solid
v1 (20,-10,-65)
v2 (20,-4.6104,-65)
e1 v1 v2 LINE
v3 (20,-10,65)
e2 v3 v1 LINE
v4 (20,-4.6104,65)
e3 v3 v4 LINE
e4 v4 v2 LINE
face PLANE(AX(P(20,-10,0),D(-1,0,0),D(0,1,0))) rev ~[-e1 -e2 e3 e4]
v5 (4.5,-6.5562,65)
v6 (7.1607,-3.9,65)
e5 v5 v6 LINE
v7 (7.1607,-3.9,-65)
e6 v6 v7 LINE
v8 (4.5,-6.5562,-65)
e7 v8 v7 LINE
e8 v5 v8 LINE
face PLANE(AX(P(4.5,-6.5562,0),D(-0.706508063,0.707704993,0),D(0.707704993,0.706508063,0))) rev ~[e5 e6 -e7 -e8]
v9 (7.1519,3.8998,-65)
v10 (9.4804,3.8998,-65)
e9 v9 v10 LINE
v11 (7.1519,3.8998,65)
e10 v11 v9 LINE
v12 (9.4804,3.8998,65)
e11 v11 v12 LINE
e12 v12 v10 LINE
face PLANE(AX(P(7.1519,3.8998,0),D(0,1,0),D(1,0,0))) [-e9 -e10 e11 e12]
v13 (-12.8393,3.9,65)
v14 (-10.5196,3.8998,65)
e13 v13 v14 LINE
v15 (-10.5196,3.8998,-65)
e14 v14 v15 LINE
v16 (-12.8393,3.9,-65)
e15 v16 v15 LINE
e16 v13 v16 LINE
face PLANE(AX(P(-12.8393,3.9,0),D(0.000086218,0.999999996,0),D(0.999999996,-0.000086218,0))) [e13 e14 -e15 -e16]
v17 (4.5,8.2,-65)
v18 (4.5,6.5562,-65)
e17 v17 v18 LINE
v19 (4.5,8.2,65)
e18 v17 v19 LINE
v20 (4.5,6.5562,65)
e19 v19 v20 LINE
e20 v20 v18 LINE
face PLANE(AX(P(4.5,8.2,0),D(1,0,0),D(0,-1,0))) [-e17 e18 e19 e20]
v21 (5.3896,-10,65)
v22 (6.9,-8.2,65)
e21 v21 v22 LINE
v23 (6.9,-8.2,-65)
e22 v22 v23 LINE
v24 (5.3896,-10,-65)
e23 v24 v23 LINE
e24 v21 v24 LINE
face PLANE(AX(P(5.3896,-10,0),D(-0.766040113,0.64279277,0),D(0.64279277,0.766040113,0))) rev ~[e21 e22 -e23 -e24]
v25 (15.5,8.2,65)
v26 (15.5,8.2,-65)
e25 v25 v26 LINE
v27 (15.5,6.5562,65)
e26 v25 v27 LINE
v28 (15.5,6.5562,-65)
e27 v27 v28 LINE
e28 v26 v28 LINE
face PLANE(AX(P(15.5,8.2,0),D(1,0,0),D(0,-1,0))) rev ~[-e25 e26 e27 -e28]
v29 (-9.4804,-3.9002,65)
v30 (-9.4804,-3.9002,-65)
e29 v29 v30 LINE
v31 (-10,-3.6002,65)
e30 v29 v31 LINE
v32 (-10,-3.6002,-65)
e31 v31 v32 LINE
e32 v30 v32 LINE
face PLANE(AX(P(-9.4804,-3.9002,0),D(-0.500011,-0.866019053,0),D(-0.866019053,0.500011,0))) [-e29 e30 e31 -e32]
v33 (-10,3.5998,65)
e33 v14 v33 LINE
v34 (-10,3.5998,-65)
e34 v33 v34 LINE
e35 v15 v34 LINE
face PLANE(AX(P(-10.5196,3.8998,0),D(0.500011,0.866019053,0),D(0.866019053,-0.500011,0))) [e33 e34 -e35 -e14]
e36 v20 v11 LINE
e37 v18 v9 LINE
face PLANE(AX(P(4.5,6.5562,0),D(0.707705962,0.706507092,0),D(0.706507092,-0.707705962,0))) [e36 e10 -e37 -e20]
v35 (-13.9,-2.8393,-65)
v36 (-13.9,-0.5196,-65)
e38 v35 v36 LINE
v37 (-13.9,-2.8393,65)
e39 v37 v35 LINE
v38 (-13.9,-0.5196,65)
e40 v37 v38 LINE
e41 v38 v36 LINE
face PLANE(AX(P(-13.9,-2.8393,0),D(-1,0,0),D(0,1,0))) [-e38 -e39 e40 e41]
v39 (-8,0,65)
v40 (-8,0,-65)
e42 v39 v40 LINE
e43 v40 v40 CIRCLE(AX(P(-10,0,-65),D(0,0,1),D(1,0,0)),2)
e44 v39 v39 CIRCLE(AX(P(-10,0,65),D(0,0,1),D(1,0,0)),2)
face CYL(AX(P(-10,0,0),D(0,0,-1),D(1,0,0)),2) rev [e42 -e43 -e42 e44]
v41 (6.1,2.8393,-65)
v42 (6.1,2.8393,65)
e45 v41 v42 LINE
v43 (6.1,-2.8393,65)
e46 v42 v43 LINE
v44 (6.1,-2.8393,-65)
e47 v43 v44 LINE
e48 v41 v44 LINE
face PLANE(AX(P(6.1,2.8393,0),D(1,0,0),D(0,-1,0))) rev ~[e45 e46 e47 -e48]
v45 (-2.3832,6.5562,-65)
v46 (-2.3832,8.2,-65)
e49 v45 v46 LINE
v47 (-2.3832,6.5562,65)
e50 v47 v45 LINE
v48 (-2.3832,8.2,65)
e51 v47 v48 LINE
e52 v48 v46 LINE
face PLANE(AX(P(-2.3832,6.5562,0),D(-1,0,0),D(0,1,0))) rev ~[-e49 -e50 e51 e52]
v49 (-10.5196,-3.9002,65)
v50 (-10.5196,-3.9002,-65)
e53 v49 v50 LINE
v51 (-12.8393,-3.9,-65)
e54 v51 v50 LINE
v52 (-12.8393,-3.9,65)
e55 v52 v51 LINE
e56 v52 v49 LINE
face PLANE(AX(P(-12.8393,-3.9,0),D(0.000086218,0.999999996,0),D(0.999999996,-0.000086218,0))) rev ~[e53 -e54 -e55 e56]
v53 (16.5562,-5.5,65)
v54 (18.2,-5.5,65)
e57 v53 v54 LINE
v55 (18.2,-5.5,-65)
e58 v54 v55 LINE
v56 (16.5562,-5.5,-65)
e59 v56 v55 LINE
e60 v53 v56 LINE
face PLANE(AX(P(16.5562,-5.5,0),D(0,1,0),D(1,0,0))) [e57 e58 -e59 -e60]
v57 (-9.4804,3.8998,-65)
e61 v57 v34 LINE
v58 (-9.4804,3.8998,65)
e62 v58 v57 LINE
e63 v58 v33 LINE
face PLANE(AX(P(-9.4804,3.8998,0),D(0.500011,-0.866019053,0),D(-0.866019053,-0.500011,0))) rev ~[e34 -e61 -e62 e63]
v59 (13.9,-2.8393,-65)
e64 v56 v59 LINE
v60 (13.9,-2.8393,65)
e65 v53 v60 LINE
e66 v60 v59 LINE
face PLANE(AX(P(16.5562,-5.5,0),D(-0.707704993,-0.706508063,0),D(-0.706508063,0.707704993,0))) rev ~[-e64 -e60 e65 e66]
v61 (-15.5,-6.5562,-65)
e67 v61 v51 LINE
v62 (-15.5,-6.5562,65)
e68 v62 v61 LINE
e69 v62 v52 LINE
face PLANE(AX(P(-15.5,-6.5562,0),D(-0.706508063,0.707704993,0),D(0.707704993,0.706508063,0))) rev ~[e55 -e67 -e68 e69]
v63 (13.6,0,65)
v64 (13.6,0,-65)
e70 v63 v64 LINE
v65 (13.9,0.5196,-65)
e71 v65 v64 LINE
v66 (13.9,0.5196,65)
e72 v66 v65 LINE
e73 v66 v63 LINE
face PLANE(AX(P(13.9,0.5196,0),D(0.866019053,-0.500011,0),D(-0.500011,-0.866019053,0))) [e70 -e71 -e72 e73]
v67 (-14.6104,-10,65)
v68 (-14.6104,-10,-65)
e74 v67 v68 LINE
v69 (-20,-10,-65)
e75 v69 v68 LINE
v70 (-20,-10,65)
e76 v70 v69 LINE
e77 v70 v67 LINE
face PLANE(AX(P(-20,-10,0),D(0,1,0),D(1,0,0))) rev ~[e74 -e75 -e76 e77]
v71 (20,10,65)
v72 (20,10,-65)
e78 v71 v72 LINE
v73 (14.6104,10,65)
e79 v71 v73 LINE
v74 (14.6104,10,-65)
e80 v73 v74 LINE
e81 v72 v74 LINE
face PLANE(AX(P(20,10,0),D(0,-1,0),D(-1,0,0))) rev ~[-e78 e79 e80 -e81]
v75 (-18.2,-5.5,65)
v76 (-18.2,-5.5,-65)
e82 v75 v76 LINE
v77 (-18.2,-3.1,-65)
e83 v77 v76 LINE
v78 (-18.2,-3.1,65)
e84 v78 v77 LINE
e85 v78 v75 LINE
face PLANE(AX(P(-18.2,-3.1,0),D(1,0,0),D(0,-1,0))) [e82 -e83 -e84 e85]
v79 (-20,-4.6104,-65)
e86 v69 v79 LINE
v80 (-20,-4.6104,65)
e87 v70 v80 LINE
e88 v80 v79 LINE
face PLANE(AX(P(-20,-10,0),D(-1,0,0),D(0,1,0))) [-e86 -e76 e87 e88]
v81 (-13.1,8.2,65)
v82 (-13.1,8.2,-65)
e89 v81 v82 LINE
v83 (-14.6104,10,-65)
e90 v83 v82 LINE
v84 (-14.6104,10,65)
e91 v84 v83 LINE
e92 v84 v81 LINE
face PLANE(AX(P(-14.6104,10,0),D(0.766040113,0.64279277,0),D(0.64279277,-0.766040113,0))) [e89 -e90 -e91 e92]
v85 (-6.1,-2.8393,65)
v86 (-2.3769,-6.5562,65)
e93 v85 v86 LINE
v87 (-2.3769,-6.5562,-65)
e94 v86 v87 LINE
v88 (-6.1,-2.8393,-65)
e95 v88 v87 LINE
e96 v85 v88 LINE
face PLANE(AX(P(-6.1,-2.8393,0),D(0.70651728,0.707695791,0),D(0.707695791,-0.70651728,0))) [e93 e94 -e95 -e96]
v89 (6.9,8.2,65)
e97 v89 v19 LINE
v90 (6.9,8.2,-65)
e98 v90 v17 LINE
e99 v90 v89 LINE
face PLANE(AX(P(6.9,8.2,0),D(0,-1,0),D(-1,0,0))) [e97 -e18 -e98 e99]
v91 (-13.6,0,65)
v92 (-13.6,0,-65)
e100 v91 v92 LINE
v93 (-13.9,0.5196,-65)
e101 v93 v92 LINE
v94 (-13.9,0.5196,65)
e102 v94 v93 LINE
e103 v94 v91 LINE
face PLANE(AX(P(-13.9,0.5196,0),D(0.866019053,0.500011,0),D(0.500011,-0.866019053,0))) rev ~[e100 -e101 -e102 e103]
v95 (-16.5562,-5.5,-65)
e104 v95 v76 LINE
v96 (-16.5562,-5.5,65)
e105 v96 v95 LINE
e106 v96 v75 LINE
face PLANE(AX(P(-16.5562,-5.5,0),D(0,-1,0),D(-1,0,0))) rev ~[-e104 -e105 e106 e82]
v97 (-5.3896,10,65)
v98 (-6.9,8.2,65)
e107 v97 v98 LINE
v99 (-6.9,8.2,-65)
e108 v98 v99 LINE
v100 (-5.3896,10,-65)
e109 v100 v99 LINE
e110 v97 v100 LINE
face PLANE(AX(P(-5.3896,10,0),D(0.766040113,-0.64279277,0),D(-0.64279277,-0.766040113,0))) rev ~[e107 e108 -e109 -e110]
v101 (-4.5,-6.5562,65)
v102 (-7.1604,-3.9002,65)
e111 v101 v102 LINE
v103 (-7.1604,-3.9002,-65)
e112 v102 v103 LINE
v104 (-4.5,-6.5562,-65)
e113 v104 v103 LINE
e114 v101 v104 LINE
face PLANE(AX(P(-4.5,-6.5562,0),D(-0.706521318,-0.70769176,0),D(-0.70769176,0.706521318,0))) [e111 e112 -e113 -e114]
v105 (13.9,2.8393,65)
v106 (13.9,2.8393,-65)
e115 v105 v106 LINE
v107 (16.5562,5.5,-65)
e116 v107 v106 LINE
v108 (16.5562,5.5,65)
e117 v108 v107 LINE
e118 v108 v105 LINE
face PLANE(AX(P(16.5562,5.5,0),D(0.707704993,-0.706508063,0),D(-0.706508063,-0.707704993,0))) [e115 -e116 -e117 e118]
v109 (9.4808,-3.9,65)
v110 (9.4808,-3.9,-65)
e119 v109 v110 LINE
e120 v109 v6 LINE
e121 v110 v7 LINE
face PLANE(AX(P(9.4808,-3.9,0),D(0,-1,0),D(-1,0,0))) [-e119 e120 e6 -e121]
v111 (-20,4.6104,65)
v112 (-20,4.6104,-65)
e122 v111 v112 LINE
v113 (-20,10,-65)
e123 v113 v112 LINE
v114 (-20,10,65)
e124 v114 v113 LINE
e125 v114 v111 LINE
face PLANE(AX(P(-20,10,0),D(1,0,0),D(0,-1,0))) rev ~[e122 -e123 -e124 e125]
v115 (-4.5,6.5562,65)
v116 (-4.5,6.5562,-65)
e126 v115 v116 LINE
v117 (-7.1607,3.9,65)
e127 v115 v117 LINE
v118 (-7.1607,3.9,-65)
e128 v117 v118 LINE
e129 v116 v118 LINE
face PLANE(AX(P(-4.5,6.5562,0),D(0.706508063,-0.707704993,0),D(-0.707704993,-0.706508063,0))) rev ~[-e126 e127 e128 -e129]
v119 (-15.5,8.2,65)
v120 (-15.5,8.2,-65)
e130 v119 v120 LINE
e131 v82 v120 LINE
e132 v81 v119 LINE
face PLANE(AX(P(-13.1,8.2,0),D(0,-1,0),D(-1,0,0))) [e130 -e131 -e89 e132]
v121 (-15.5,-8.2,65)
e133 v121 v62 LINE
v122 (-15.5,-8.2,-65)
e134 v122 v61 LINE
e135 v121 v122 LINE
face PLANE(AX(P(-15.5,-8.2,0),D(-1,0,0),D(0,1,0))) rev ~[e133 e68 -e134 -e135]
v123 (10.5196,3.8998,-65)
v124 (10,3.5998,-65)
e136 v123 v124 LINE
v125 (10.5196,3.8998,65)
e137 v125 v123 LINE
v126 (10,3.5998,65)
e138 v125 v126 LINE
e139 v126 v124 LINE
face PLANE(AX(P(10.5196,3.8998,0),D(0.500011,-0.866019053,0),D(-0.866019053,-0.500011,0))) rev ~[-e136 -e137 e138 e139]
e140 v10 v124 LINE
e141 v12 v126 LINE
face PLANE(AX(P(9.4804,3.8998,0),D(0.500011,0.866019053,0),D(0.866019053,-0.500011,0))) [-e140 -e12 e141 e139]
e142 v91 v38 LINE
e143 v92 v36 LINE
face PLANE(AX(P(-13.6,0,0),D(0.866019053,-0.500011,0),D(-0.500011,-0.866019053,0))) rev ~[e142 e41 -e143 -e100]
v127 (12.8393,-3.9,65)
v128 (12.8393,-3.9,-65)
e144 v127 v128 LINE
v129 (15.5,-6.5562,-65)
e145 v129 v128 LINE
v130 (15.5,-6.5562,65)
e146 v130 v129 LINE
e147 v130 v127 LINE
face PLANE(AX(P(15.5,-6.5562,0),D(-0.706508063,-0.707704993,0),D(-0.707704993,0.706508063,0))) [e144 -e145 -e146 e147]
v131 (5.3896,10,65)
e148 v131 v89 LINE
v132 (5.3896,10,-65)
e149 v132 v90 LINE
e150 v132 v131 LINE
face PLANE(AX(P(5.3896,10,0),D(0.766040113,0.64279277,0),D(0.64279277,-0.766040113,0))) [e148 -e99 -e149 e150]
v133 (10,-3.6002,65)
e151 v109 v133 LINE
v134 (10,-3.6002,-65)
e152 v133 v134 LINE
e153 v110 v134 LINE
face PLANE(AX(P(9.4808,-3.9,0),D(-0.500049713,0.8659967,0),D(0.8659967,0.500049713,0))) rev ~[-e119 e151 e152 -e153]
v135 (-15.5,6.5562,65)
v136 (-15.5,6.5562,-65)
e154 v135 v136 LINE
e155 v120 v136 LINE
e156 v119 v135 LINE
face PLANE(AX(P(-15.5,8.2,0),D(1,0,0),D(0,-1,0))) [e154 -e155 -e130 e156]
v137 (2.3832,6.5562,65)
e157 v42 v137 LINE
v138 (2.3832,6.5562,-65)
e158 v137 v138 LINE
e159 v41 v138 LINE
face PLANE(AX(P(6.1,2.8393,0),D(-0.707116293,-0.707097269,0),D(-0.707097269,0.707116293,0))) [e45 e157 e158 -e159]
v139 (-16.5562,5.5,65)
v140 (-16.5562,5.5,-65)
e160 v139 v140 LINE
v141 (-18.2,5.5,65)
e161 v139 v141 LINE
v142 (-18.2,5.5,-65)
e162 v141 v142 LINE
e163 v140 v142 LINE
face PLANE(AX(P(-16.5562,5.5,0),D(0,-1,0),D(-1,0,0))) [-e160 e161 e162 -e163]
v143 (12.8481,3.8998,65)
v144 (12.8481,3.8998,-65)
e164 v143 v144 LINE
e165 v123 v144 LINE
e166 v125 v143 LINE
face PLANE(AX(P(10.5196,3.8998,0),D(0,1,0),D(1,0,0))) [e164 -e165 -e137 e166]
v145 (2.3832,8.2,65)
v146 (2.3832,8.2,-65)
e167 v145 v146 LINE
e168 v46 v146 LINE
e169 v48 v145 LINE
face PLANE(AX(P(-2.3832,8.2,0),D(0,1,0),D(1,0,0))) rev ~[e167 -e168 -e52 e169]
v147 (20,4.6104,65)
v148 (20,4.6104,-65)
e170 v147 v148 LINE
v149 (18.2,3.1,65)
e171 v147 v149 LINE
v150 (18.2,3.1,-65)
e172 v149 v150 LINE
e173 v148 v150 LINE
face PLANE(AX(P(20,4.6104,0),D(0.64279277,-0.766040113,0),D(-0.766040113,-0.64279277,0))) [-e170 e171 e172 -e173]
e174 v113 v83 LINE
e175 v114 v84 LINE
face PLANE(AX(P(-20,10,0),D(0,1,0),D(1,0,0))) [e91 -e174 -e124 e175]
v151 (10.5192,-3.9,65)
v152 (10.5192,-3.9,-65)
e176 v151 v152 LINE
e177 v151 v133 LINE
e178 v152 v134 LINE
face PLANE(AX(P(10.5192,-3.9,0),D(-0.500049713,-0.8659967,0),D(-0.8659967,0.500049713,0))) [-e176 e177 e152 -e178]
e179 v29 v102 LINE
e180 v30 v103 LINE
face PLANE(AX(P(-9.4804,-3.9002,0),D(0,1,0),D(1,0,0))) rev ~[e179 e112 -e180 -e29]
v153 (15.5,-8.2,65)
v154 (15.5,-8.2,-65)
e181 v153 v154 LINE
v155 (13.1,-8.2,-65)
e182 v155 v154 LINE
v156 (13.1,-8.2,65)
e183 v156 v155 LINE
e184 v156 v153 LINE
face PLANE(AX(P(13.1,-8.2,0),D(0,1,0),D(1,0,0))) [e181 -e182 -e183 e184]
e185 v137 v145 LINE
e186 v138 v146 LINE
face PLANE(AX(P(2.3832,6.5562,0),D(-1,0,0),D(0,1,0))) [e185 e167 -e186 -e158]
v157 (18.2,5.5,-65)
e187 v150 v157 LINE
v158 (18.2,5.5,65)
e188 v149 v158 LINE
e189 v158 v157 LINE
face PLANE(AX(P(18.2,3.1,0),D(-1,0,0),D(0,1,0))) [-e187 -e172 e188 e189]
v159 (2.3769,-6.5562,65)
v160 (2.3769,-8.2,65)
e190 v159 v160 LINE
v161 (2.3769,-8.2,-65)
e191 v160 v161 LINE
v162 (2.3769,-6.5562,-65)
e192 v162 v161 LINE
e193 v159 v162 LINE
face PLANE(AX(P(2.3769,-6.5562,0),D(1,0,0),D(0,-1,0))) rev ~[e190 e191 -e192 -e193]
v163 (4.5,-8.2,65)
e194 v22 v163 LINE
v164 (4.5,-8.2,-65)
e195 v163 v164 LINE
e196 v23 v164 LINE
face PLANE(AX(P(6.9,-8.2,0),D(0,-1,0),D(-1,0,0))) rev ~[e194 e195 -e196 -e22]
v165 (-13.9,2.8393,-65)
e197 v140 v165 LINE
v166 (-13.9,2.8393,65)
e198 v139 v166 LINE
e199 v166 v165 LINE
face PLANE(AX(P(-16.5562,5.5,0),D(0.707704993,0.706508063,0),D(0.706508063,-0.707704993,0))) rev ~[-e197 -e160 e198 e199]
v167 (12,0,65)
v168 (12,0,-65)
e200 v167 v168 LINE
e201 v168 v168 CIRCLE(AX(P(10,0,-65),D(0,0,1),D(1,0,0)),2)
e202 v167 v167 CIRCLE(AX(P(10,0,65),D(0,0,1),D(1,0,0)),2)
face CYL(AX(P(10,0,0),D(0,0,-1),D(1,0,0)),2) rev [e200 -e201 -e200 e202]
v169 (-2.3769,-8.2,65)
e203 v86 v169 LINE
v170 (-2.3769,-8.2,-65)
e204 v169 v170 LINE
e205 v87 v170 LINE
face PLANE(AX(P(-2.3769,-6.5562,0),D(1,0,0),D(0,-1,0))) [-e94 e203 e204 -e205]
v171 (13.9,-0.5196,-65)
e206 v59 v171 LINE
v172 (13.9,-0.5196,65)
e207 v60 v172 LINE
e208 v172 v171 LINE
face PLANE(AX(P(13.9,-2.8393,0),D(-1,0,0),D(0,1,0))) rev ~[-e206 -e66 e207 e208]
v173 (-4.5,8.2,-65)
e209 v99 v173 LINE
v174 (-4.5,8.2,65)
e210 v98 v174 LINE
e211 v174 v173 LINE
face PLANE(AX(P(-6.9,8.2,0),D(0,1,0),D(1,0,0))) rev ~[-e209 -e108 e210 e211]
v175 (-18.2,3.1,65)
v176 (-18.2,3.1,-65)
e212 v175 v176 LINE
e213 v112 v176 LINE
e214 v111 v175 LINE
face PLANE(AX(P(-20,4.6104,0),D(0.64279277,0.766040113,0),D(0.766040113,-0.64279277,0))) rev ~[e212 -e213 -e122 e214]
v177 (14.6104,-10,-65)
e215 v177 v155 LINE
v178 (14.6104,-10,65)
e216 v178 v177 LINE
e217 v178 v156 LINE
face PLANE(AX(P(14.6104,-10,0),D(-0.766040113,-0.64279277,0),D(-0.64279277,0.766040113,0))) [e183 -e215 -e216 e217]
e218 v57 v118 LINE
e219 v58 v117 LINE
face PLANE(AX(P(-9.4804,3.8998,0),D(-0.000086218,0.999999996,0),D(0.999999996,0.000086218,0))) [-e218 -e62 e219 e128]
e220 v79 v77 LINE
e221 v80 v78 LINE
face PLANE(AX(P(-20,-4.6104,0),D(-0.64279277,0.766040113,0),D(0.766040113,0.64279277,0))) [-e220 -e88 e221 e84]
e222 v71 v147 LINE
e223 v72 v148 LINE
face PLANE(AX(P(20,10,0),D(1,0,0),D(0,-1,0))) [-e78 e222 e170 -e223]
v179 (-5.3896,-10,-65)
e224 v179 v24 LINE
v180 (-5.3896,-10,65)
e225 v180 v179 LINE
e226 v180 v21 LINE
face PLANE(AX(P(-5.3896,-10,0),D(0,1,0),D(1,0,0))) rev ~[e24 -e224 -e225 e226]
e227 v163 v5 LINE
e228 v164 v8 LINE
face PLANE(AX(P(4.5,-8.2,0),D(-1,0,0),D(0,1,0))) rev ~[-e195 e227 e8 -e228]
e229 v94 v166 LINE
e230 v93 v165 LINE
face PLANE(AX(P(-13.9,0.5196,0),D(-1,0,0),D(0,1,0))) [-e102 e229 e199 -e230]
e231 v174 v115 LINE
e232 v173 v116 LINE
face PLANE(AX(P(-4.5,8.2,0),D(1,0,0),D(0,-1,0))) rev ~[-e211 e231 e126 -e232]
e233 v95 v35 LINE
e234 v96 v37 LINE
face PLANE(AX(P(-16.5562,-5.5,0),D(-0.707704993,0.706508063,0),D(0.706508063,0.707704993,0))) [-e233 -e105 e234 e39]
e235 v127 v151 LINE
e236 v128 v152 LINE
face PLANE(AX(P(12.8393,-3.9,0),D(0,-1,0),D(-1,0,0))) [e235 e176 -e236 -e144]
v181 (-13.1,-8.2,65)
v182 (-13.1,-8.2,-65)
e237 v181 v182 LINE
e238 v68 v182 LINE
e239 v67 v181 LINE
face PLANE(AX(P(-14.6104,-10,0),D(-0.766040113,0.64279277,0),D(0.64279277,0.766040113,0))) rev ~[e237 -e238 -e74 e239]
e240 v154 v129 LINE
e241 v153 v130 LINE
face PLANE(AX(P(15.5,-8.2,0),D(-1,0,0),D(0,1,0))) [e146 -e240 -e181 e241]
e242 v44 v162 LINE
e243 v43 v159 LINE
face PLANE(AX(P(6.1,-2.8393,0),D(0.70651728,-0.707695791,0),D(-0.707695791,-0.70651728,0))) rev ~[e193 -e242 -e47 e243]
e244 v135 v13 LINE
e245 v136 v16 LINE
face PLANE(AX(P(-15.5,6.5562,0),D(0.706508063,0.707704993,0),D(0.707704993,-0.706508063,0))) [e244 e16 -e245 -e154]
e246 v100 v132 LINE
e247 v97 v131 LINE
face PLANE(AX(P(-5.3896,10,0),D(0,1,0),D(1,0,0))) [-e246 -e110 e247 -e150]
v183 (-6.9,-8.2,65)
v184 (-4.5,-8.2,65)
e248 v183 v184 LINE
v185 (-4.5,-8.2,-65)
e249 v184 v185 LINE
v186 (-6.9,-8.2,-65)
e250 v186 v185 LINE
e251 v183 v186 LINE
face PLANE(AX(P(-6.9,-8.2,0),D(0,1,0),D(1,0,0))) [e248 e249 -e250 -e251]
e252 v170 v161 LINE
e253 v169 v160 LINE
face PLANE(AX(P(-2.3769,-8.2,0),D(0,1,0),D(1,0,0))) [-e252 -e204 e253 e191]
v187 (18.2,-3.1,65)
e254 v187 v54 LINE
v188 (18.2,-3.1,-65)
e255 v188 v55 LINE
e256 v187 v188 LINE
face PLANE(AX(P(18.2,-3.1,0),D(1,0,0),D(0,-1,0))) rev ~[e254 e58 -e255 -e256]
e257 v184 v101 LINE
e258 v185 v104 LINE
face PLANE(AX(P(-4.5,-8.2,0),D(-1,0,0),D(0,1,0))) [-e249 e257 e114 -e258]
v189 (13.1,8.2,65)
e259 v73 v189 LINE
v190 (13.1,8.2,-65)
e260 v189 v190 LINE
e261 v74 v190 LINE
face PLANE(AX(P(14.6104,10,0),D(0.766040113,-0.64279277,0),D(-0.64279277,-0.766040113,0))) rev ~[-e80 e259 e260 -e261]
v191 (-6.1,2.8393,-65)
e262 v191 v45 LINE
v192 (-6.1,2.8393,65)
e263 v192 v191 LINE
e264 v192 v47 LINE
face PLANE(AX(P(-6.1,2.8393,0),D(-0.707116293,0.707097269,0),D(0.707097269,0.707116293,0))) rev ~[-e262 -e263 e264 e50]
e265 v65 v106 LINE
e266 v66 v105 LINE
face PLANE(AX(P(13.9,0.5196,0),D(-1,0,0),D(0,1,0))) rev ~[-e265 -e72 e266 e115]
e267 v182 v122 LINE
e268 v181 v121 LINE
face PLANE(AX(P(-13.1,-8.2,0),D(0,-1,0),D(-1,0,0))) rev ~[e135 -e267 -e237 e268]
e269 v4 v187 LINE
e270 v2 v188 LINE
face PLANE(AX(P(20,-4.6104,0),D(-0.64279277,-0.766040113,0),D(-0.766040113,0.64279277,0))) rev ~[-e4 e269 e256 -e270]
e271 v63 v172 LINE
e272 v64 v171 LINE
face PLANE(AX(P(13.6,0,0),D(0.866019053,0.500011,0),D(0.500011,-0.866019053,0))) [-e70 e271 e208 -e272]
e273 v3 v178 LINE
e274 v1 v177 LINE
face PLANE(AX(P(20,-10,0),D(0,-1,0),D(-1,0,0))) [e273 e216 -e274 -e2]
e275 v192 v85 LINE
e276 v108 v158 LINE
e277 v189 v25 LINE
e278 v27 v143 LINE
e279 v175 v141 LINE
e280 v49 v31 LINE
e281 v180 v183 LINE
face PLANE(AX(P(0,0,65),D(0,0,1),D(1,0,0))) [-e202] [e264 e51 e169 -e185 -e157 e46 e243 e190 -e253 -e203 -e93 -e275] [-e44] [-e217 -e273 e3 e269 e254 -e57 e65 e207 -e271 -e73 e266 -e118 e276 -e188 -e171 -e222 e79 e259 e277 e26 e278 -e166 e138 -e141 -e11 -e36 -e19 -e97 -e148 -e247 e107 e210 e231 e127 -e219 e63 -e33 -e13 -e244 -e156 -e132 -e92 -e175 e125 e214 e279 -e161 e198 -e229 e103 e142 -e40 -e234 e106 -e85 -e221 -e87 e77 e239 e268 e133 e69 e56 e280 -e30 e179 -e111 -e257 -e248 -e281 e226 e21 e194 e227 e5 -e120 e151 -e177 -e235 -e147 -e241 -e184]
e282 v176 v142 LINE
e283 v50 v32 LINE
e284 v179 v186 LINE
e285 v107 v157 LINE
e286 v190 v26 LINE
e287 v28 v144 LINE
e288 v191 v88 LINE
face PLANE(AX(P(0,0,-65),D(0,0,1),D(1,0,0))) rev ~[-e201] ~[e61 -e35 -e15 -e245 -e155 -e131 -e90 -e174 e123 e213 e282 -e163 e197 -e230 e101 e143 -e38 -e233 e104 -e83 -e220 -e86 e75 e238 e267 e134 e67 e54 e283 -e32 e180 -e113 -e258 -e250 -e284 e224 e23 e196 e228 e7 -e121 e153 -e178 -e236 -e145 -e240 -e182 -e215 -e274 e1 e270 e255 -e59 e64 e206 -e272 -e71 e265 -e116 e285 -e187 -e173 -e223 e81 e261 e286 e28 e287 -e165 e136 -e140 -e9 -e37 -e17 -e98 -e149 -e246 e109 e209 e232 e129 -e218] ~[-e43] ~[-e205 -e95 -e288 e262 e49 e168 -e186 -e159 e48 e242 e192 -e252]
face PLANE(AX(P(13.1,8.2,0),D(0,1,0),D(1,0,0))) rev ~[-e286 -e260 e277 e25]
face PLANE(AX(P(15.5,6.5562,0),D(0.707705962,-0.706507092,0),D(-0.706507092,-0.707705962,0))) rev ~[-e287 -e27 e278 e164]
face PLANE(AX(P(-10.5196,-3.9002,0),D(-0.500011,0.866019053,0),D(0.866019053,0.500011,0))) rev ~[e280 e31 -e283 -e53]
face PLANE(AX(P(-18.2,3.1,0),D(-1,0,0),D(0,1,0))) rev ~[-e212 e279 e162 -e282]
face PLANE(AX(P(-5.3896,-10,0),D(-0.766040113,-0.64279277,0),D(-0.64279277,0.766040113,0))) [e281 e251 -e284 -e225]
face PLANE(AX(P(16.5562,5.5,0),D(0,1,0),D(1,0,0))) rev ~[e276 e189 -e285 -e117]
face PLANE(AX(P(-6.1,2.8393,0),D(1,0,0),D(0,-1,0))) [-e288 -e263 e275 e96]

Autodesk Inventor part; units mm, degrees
ref_plane "YZ Plane" through (0, 0, 0) normal (1, 0, 0) x (0, 1, 0)
ref_plane "XZ Plane" through (0, 0, 0) normal (0, 1, 0) x (-1, 0, 0)
ref_plane "XY Plane" through (0, 0, 0) normal (0, 0, 1) x (1, 0, 0)
sketch "Sketch1" plane through (0, 0, 0) normal (0, 0, 1) x (1, 0, 0)
  line L0 (4.5, 8.2) -> (4.5, 6.5562)
  line L1 (6.9, 8.2) -> (4.5, 8.2)
  line L2 (5.3896, 10) -> (6.9, 8.2)
  line L3 (-5.3896, 10) -> (5.3896, 10)
  line L4 (-5.3896, 10) -> (-6.9, 8.2)
  line L5 (-6.9, 8.2) -> (-4.5, 8.2)
  line L6 (-4.5, 8.2) -> (-4.5, 6.5562)
  line L7 (-4.5, 6.5562) -> (-7.1607, 3.9)
  line L8 (-9.4804, 3.8998) -> (-7.1607, 3.9)
  line L9 (-9.4804, 3.8998) -> (-10, 3.5998)
  line L10 (-10.5196, 3.8998) -> (-10, 3.5998)
  line L11 (-12.8393, 3.9) -> (-10.5196, 3.8998)
  line L12 (-15.5, 6.5562) -> (-12.8393, 3.9)
  line L13 (-15.5, 8.2) -> (-15.5, 6.5562)
  line L14 (-13.1, 8.2) -> (-15.5, 8.2)
  line L15 (-14.6104, 10) -> (-13.1, 8.2)
  line L16 (-20, 10) -> (-14.6104, 10)
  line L17 (-20, 10) -> (-20, 4.6104)
  line L18 (-20, 4.6104) -> (-18.2, 3.1)
  line L19 (-18.2, 3.1) -> (-18.2, 5.5)
  line L20 (-16.5562, 5.5) -> (-18.2, 5.5)
  line L21 (-16.5562, 5.5) -> (-13.9, 2.8393)
  line L22 (-13.9, 0.5196) -> (-13.9, 2.8393)
  line L23 (-13.9, 0.5196) -> (-13.6, 0)
  line L24 (-13.6, 0) -> (-13.9, -0.5196)
  line L25 (-13.9, -2.8393) -> (-13.9, -0.5196)
  line L26 (-16.5562, -5.5) -> (-13.9, -2.8393)
  line L27 (-16.5562, -5.5) -> (-18.2, -5.5)
  line L28 (-18.2, -3.1) -> (-18.2, -5.5)
  line L29 (-20, -4.6104) -> (-18.2, -3.1)
  line L30 (-20, -10) -> (-20, -4.6104)
  line L31 (-20, -10) -> (-14.6104, -10)
  line L32 (-14.6104, -10) -> (-13.1, -8.2)
  line L33 (-13.1, -8.2) -> (-15.5, -8.2)
  line L34 (-15.5, -8.2) -> (-15.5, -6.5562)
  line L35 (-15.5, -6.5562) -> (-12.8393, -3.9)
  line L36 (-12.8393, -3.9) -> (-10.5196, -3.9002)
  line L37 (-10.5196, -3.9002) -> (-10, -3.6002)
  line L38 (-9.4804, -3.9002) -> (-10, -3.6002)
  line L39 (-9.4804, -3.9002) -> (-7.1604, -3.9002)
  line L40 (-4.5, -6.5562) -> (-7.1604, -3.9002)
  line L41 (-4.5, -8.2) -> (-4.5, -6.5562)
  line L42 (-6.9, -8.2) -> (-4.5, -8.2)
  line L43 (-5.3896, -10) -> (-6.9, -8.2)
  line L44 (-5.3896, -10) -> (5.3896, -10)
  line L45 (5.3896, -10) -> (6.9, -8.2)
  line L46 (6.9, -8.2) -> (4.5, -8.2)
  line L47 (4.5, -8.2) -> (4.5, -6.5562)
  line L48 (4.5, -6.5562) -> (7.1607, -3.9)
  line L49 (9.4808, -3.9) -> (7.1607, -3.9)
  line L50 (9.4808, -3.9) -> (10, -3.6002)
  line L51 (10.5192, -3.9) -> (10, -3.6002)
  line L52 (12.8393, -3.9) -> (10.5192, -3.9)
  line L53 (15.5, -6.5562) -> (12.8393, -3.9)
  line L54 (15.5, -8.2) -> (15.5, -6.5562)
  line L55 (13.1, -8.2) -> (15.5, -8.2)
  line L56 (14.6104, -10) -> (13.1, -8.2)
  line L57 (20, -10) -> (14.6104, -10)
  line L58 (20, -10) -> (20, -4.6104)
  line L59 (20, -4.6104) -> (18.2, -3.1)
  line L60 (18.2, -3.1) -> (18.2, -5.5)
  line L61 (16.5562, -5.5) -> (18.2, -5.5)
  line L62 (16.5562, -5.5) -> (13.9, -2.8393)
  line L63 (13.9, -2.8393) -> (13.9, -0.5196)
  line L64 (13.6, 0) -> (13.9, -0.5196)
  line L65 (13.9, 0.5196) -> (13.6, 0)
  line L66 (13.9, 0.5196) -> (13.9, 2.8393)
  line L67 (16.5562, 5.5) -> (13.9, 2.8393)
  line L68 (16.5562, 5.5) -> (18.2, 5.5)
  line L69 (18.2, 3.1) -> (18.2, 5.5)
  line L70 (20, 4.6104) -> (18.2, 3.1)
  line L71 (20, 10) -> (20, 4.6104)
  line L72 (20, 10) -> (14.6104, 10)
  line L73 (14.6104, 10) -> (13.1, 8.2)
  line L74 (13.1, 8.2) -> (15.5, 8.2)
  line L75 (15.5, 8.2) -> (15.5, 6.5562)
  line L76 (15.5, 6.5562) -> (12.8481, 3.8998)
  line L77 (10.5196, 3.8998) -> (12.8481, 3.8998)
  line L78 (10.5196, 3.8998) -> (10, 3.5998)
  line L79 (9.4804, 3.8998) -> (10, 3.5998)
  line L80 (7.1519, 3.8998) -> (9.4804, 3.8998)
  line L81 (4.5, 6.5562) -> (7.1519, 3.8998)
  circle A0 centre (-10, 0) radius 2
  circle A1 centre (10, 0) radius 2
  line L82 (6.1, 2.8393) -> (2.3832, 6.5562)
  line L83 (6.1, 2.8393) -> (6.1, -2.8393)
  line L84 (6.1, -2.8393) -> (2.3769, -6.5562)
  line L85 (2.3769, -6.5562) -> (2.3769, -8.2)
  line L86 (-2.3769, -8.2) -> (2.3769, -8.2)
  line L87 (-2.3769, -6.5562) -> (-2.3769, -8.2)
  line L88 (-6.1, -2.8393) -> (-2.3769, -6.5562)
  line L89 (-6.1, 2.8393) -> (-6.1, -2.8393)
  line L90 (-6.1, 2.8393) -> (-2.3832, 6.5562)
  line L91 (-2.3832, 6.5562) -> (-2.3832, 8.2)
  line L92 (-2.3832, 8.2) -> (2.3832, 8.2)
  line L93 (2.3832, 6.5562) -> (2.3832, 8.2)
  point P0 (0, 0)
  point P1 (0, 0)
extrude "Extrusion1" add sketch "Sketch1" along normal mid plane 130
properties part number "vslot_2040_130mm"
